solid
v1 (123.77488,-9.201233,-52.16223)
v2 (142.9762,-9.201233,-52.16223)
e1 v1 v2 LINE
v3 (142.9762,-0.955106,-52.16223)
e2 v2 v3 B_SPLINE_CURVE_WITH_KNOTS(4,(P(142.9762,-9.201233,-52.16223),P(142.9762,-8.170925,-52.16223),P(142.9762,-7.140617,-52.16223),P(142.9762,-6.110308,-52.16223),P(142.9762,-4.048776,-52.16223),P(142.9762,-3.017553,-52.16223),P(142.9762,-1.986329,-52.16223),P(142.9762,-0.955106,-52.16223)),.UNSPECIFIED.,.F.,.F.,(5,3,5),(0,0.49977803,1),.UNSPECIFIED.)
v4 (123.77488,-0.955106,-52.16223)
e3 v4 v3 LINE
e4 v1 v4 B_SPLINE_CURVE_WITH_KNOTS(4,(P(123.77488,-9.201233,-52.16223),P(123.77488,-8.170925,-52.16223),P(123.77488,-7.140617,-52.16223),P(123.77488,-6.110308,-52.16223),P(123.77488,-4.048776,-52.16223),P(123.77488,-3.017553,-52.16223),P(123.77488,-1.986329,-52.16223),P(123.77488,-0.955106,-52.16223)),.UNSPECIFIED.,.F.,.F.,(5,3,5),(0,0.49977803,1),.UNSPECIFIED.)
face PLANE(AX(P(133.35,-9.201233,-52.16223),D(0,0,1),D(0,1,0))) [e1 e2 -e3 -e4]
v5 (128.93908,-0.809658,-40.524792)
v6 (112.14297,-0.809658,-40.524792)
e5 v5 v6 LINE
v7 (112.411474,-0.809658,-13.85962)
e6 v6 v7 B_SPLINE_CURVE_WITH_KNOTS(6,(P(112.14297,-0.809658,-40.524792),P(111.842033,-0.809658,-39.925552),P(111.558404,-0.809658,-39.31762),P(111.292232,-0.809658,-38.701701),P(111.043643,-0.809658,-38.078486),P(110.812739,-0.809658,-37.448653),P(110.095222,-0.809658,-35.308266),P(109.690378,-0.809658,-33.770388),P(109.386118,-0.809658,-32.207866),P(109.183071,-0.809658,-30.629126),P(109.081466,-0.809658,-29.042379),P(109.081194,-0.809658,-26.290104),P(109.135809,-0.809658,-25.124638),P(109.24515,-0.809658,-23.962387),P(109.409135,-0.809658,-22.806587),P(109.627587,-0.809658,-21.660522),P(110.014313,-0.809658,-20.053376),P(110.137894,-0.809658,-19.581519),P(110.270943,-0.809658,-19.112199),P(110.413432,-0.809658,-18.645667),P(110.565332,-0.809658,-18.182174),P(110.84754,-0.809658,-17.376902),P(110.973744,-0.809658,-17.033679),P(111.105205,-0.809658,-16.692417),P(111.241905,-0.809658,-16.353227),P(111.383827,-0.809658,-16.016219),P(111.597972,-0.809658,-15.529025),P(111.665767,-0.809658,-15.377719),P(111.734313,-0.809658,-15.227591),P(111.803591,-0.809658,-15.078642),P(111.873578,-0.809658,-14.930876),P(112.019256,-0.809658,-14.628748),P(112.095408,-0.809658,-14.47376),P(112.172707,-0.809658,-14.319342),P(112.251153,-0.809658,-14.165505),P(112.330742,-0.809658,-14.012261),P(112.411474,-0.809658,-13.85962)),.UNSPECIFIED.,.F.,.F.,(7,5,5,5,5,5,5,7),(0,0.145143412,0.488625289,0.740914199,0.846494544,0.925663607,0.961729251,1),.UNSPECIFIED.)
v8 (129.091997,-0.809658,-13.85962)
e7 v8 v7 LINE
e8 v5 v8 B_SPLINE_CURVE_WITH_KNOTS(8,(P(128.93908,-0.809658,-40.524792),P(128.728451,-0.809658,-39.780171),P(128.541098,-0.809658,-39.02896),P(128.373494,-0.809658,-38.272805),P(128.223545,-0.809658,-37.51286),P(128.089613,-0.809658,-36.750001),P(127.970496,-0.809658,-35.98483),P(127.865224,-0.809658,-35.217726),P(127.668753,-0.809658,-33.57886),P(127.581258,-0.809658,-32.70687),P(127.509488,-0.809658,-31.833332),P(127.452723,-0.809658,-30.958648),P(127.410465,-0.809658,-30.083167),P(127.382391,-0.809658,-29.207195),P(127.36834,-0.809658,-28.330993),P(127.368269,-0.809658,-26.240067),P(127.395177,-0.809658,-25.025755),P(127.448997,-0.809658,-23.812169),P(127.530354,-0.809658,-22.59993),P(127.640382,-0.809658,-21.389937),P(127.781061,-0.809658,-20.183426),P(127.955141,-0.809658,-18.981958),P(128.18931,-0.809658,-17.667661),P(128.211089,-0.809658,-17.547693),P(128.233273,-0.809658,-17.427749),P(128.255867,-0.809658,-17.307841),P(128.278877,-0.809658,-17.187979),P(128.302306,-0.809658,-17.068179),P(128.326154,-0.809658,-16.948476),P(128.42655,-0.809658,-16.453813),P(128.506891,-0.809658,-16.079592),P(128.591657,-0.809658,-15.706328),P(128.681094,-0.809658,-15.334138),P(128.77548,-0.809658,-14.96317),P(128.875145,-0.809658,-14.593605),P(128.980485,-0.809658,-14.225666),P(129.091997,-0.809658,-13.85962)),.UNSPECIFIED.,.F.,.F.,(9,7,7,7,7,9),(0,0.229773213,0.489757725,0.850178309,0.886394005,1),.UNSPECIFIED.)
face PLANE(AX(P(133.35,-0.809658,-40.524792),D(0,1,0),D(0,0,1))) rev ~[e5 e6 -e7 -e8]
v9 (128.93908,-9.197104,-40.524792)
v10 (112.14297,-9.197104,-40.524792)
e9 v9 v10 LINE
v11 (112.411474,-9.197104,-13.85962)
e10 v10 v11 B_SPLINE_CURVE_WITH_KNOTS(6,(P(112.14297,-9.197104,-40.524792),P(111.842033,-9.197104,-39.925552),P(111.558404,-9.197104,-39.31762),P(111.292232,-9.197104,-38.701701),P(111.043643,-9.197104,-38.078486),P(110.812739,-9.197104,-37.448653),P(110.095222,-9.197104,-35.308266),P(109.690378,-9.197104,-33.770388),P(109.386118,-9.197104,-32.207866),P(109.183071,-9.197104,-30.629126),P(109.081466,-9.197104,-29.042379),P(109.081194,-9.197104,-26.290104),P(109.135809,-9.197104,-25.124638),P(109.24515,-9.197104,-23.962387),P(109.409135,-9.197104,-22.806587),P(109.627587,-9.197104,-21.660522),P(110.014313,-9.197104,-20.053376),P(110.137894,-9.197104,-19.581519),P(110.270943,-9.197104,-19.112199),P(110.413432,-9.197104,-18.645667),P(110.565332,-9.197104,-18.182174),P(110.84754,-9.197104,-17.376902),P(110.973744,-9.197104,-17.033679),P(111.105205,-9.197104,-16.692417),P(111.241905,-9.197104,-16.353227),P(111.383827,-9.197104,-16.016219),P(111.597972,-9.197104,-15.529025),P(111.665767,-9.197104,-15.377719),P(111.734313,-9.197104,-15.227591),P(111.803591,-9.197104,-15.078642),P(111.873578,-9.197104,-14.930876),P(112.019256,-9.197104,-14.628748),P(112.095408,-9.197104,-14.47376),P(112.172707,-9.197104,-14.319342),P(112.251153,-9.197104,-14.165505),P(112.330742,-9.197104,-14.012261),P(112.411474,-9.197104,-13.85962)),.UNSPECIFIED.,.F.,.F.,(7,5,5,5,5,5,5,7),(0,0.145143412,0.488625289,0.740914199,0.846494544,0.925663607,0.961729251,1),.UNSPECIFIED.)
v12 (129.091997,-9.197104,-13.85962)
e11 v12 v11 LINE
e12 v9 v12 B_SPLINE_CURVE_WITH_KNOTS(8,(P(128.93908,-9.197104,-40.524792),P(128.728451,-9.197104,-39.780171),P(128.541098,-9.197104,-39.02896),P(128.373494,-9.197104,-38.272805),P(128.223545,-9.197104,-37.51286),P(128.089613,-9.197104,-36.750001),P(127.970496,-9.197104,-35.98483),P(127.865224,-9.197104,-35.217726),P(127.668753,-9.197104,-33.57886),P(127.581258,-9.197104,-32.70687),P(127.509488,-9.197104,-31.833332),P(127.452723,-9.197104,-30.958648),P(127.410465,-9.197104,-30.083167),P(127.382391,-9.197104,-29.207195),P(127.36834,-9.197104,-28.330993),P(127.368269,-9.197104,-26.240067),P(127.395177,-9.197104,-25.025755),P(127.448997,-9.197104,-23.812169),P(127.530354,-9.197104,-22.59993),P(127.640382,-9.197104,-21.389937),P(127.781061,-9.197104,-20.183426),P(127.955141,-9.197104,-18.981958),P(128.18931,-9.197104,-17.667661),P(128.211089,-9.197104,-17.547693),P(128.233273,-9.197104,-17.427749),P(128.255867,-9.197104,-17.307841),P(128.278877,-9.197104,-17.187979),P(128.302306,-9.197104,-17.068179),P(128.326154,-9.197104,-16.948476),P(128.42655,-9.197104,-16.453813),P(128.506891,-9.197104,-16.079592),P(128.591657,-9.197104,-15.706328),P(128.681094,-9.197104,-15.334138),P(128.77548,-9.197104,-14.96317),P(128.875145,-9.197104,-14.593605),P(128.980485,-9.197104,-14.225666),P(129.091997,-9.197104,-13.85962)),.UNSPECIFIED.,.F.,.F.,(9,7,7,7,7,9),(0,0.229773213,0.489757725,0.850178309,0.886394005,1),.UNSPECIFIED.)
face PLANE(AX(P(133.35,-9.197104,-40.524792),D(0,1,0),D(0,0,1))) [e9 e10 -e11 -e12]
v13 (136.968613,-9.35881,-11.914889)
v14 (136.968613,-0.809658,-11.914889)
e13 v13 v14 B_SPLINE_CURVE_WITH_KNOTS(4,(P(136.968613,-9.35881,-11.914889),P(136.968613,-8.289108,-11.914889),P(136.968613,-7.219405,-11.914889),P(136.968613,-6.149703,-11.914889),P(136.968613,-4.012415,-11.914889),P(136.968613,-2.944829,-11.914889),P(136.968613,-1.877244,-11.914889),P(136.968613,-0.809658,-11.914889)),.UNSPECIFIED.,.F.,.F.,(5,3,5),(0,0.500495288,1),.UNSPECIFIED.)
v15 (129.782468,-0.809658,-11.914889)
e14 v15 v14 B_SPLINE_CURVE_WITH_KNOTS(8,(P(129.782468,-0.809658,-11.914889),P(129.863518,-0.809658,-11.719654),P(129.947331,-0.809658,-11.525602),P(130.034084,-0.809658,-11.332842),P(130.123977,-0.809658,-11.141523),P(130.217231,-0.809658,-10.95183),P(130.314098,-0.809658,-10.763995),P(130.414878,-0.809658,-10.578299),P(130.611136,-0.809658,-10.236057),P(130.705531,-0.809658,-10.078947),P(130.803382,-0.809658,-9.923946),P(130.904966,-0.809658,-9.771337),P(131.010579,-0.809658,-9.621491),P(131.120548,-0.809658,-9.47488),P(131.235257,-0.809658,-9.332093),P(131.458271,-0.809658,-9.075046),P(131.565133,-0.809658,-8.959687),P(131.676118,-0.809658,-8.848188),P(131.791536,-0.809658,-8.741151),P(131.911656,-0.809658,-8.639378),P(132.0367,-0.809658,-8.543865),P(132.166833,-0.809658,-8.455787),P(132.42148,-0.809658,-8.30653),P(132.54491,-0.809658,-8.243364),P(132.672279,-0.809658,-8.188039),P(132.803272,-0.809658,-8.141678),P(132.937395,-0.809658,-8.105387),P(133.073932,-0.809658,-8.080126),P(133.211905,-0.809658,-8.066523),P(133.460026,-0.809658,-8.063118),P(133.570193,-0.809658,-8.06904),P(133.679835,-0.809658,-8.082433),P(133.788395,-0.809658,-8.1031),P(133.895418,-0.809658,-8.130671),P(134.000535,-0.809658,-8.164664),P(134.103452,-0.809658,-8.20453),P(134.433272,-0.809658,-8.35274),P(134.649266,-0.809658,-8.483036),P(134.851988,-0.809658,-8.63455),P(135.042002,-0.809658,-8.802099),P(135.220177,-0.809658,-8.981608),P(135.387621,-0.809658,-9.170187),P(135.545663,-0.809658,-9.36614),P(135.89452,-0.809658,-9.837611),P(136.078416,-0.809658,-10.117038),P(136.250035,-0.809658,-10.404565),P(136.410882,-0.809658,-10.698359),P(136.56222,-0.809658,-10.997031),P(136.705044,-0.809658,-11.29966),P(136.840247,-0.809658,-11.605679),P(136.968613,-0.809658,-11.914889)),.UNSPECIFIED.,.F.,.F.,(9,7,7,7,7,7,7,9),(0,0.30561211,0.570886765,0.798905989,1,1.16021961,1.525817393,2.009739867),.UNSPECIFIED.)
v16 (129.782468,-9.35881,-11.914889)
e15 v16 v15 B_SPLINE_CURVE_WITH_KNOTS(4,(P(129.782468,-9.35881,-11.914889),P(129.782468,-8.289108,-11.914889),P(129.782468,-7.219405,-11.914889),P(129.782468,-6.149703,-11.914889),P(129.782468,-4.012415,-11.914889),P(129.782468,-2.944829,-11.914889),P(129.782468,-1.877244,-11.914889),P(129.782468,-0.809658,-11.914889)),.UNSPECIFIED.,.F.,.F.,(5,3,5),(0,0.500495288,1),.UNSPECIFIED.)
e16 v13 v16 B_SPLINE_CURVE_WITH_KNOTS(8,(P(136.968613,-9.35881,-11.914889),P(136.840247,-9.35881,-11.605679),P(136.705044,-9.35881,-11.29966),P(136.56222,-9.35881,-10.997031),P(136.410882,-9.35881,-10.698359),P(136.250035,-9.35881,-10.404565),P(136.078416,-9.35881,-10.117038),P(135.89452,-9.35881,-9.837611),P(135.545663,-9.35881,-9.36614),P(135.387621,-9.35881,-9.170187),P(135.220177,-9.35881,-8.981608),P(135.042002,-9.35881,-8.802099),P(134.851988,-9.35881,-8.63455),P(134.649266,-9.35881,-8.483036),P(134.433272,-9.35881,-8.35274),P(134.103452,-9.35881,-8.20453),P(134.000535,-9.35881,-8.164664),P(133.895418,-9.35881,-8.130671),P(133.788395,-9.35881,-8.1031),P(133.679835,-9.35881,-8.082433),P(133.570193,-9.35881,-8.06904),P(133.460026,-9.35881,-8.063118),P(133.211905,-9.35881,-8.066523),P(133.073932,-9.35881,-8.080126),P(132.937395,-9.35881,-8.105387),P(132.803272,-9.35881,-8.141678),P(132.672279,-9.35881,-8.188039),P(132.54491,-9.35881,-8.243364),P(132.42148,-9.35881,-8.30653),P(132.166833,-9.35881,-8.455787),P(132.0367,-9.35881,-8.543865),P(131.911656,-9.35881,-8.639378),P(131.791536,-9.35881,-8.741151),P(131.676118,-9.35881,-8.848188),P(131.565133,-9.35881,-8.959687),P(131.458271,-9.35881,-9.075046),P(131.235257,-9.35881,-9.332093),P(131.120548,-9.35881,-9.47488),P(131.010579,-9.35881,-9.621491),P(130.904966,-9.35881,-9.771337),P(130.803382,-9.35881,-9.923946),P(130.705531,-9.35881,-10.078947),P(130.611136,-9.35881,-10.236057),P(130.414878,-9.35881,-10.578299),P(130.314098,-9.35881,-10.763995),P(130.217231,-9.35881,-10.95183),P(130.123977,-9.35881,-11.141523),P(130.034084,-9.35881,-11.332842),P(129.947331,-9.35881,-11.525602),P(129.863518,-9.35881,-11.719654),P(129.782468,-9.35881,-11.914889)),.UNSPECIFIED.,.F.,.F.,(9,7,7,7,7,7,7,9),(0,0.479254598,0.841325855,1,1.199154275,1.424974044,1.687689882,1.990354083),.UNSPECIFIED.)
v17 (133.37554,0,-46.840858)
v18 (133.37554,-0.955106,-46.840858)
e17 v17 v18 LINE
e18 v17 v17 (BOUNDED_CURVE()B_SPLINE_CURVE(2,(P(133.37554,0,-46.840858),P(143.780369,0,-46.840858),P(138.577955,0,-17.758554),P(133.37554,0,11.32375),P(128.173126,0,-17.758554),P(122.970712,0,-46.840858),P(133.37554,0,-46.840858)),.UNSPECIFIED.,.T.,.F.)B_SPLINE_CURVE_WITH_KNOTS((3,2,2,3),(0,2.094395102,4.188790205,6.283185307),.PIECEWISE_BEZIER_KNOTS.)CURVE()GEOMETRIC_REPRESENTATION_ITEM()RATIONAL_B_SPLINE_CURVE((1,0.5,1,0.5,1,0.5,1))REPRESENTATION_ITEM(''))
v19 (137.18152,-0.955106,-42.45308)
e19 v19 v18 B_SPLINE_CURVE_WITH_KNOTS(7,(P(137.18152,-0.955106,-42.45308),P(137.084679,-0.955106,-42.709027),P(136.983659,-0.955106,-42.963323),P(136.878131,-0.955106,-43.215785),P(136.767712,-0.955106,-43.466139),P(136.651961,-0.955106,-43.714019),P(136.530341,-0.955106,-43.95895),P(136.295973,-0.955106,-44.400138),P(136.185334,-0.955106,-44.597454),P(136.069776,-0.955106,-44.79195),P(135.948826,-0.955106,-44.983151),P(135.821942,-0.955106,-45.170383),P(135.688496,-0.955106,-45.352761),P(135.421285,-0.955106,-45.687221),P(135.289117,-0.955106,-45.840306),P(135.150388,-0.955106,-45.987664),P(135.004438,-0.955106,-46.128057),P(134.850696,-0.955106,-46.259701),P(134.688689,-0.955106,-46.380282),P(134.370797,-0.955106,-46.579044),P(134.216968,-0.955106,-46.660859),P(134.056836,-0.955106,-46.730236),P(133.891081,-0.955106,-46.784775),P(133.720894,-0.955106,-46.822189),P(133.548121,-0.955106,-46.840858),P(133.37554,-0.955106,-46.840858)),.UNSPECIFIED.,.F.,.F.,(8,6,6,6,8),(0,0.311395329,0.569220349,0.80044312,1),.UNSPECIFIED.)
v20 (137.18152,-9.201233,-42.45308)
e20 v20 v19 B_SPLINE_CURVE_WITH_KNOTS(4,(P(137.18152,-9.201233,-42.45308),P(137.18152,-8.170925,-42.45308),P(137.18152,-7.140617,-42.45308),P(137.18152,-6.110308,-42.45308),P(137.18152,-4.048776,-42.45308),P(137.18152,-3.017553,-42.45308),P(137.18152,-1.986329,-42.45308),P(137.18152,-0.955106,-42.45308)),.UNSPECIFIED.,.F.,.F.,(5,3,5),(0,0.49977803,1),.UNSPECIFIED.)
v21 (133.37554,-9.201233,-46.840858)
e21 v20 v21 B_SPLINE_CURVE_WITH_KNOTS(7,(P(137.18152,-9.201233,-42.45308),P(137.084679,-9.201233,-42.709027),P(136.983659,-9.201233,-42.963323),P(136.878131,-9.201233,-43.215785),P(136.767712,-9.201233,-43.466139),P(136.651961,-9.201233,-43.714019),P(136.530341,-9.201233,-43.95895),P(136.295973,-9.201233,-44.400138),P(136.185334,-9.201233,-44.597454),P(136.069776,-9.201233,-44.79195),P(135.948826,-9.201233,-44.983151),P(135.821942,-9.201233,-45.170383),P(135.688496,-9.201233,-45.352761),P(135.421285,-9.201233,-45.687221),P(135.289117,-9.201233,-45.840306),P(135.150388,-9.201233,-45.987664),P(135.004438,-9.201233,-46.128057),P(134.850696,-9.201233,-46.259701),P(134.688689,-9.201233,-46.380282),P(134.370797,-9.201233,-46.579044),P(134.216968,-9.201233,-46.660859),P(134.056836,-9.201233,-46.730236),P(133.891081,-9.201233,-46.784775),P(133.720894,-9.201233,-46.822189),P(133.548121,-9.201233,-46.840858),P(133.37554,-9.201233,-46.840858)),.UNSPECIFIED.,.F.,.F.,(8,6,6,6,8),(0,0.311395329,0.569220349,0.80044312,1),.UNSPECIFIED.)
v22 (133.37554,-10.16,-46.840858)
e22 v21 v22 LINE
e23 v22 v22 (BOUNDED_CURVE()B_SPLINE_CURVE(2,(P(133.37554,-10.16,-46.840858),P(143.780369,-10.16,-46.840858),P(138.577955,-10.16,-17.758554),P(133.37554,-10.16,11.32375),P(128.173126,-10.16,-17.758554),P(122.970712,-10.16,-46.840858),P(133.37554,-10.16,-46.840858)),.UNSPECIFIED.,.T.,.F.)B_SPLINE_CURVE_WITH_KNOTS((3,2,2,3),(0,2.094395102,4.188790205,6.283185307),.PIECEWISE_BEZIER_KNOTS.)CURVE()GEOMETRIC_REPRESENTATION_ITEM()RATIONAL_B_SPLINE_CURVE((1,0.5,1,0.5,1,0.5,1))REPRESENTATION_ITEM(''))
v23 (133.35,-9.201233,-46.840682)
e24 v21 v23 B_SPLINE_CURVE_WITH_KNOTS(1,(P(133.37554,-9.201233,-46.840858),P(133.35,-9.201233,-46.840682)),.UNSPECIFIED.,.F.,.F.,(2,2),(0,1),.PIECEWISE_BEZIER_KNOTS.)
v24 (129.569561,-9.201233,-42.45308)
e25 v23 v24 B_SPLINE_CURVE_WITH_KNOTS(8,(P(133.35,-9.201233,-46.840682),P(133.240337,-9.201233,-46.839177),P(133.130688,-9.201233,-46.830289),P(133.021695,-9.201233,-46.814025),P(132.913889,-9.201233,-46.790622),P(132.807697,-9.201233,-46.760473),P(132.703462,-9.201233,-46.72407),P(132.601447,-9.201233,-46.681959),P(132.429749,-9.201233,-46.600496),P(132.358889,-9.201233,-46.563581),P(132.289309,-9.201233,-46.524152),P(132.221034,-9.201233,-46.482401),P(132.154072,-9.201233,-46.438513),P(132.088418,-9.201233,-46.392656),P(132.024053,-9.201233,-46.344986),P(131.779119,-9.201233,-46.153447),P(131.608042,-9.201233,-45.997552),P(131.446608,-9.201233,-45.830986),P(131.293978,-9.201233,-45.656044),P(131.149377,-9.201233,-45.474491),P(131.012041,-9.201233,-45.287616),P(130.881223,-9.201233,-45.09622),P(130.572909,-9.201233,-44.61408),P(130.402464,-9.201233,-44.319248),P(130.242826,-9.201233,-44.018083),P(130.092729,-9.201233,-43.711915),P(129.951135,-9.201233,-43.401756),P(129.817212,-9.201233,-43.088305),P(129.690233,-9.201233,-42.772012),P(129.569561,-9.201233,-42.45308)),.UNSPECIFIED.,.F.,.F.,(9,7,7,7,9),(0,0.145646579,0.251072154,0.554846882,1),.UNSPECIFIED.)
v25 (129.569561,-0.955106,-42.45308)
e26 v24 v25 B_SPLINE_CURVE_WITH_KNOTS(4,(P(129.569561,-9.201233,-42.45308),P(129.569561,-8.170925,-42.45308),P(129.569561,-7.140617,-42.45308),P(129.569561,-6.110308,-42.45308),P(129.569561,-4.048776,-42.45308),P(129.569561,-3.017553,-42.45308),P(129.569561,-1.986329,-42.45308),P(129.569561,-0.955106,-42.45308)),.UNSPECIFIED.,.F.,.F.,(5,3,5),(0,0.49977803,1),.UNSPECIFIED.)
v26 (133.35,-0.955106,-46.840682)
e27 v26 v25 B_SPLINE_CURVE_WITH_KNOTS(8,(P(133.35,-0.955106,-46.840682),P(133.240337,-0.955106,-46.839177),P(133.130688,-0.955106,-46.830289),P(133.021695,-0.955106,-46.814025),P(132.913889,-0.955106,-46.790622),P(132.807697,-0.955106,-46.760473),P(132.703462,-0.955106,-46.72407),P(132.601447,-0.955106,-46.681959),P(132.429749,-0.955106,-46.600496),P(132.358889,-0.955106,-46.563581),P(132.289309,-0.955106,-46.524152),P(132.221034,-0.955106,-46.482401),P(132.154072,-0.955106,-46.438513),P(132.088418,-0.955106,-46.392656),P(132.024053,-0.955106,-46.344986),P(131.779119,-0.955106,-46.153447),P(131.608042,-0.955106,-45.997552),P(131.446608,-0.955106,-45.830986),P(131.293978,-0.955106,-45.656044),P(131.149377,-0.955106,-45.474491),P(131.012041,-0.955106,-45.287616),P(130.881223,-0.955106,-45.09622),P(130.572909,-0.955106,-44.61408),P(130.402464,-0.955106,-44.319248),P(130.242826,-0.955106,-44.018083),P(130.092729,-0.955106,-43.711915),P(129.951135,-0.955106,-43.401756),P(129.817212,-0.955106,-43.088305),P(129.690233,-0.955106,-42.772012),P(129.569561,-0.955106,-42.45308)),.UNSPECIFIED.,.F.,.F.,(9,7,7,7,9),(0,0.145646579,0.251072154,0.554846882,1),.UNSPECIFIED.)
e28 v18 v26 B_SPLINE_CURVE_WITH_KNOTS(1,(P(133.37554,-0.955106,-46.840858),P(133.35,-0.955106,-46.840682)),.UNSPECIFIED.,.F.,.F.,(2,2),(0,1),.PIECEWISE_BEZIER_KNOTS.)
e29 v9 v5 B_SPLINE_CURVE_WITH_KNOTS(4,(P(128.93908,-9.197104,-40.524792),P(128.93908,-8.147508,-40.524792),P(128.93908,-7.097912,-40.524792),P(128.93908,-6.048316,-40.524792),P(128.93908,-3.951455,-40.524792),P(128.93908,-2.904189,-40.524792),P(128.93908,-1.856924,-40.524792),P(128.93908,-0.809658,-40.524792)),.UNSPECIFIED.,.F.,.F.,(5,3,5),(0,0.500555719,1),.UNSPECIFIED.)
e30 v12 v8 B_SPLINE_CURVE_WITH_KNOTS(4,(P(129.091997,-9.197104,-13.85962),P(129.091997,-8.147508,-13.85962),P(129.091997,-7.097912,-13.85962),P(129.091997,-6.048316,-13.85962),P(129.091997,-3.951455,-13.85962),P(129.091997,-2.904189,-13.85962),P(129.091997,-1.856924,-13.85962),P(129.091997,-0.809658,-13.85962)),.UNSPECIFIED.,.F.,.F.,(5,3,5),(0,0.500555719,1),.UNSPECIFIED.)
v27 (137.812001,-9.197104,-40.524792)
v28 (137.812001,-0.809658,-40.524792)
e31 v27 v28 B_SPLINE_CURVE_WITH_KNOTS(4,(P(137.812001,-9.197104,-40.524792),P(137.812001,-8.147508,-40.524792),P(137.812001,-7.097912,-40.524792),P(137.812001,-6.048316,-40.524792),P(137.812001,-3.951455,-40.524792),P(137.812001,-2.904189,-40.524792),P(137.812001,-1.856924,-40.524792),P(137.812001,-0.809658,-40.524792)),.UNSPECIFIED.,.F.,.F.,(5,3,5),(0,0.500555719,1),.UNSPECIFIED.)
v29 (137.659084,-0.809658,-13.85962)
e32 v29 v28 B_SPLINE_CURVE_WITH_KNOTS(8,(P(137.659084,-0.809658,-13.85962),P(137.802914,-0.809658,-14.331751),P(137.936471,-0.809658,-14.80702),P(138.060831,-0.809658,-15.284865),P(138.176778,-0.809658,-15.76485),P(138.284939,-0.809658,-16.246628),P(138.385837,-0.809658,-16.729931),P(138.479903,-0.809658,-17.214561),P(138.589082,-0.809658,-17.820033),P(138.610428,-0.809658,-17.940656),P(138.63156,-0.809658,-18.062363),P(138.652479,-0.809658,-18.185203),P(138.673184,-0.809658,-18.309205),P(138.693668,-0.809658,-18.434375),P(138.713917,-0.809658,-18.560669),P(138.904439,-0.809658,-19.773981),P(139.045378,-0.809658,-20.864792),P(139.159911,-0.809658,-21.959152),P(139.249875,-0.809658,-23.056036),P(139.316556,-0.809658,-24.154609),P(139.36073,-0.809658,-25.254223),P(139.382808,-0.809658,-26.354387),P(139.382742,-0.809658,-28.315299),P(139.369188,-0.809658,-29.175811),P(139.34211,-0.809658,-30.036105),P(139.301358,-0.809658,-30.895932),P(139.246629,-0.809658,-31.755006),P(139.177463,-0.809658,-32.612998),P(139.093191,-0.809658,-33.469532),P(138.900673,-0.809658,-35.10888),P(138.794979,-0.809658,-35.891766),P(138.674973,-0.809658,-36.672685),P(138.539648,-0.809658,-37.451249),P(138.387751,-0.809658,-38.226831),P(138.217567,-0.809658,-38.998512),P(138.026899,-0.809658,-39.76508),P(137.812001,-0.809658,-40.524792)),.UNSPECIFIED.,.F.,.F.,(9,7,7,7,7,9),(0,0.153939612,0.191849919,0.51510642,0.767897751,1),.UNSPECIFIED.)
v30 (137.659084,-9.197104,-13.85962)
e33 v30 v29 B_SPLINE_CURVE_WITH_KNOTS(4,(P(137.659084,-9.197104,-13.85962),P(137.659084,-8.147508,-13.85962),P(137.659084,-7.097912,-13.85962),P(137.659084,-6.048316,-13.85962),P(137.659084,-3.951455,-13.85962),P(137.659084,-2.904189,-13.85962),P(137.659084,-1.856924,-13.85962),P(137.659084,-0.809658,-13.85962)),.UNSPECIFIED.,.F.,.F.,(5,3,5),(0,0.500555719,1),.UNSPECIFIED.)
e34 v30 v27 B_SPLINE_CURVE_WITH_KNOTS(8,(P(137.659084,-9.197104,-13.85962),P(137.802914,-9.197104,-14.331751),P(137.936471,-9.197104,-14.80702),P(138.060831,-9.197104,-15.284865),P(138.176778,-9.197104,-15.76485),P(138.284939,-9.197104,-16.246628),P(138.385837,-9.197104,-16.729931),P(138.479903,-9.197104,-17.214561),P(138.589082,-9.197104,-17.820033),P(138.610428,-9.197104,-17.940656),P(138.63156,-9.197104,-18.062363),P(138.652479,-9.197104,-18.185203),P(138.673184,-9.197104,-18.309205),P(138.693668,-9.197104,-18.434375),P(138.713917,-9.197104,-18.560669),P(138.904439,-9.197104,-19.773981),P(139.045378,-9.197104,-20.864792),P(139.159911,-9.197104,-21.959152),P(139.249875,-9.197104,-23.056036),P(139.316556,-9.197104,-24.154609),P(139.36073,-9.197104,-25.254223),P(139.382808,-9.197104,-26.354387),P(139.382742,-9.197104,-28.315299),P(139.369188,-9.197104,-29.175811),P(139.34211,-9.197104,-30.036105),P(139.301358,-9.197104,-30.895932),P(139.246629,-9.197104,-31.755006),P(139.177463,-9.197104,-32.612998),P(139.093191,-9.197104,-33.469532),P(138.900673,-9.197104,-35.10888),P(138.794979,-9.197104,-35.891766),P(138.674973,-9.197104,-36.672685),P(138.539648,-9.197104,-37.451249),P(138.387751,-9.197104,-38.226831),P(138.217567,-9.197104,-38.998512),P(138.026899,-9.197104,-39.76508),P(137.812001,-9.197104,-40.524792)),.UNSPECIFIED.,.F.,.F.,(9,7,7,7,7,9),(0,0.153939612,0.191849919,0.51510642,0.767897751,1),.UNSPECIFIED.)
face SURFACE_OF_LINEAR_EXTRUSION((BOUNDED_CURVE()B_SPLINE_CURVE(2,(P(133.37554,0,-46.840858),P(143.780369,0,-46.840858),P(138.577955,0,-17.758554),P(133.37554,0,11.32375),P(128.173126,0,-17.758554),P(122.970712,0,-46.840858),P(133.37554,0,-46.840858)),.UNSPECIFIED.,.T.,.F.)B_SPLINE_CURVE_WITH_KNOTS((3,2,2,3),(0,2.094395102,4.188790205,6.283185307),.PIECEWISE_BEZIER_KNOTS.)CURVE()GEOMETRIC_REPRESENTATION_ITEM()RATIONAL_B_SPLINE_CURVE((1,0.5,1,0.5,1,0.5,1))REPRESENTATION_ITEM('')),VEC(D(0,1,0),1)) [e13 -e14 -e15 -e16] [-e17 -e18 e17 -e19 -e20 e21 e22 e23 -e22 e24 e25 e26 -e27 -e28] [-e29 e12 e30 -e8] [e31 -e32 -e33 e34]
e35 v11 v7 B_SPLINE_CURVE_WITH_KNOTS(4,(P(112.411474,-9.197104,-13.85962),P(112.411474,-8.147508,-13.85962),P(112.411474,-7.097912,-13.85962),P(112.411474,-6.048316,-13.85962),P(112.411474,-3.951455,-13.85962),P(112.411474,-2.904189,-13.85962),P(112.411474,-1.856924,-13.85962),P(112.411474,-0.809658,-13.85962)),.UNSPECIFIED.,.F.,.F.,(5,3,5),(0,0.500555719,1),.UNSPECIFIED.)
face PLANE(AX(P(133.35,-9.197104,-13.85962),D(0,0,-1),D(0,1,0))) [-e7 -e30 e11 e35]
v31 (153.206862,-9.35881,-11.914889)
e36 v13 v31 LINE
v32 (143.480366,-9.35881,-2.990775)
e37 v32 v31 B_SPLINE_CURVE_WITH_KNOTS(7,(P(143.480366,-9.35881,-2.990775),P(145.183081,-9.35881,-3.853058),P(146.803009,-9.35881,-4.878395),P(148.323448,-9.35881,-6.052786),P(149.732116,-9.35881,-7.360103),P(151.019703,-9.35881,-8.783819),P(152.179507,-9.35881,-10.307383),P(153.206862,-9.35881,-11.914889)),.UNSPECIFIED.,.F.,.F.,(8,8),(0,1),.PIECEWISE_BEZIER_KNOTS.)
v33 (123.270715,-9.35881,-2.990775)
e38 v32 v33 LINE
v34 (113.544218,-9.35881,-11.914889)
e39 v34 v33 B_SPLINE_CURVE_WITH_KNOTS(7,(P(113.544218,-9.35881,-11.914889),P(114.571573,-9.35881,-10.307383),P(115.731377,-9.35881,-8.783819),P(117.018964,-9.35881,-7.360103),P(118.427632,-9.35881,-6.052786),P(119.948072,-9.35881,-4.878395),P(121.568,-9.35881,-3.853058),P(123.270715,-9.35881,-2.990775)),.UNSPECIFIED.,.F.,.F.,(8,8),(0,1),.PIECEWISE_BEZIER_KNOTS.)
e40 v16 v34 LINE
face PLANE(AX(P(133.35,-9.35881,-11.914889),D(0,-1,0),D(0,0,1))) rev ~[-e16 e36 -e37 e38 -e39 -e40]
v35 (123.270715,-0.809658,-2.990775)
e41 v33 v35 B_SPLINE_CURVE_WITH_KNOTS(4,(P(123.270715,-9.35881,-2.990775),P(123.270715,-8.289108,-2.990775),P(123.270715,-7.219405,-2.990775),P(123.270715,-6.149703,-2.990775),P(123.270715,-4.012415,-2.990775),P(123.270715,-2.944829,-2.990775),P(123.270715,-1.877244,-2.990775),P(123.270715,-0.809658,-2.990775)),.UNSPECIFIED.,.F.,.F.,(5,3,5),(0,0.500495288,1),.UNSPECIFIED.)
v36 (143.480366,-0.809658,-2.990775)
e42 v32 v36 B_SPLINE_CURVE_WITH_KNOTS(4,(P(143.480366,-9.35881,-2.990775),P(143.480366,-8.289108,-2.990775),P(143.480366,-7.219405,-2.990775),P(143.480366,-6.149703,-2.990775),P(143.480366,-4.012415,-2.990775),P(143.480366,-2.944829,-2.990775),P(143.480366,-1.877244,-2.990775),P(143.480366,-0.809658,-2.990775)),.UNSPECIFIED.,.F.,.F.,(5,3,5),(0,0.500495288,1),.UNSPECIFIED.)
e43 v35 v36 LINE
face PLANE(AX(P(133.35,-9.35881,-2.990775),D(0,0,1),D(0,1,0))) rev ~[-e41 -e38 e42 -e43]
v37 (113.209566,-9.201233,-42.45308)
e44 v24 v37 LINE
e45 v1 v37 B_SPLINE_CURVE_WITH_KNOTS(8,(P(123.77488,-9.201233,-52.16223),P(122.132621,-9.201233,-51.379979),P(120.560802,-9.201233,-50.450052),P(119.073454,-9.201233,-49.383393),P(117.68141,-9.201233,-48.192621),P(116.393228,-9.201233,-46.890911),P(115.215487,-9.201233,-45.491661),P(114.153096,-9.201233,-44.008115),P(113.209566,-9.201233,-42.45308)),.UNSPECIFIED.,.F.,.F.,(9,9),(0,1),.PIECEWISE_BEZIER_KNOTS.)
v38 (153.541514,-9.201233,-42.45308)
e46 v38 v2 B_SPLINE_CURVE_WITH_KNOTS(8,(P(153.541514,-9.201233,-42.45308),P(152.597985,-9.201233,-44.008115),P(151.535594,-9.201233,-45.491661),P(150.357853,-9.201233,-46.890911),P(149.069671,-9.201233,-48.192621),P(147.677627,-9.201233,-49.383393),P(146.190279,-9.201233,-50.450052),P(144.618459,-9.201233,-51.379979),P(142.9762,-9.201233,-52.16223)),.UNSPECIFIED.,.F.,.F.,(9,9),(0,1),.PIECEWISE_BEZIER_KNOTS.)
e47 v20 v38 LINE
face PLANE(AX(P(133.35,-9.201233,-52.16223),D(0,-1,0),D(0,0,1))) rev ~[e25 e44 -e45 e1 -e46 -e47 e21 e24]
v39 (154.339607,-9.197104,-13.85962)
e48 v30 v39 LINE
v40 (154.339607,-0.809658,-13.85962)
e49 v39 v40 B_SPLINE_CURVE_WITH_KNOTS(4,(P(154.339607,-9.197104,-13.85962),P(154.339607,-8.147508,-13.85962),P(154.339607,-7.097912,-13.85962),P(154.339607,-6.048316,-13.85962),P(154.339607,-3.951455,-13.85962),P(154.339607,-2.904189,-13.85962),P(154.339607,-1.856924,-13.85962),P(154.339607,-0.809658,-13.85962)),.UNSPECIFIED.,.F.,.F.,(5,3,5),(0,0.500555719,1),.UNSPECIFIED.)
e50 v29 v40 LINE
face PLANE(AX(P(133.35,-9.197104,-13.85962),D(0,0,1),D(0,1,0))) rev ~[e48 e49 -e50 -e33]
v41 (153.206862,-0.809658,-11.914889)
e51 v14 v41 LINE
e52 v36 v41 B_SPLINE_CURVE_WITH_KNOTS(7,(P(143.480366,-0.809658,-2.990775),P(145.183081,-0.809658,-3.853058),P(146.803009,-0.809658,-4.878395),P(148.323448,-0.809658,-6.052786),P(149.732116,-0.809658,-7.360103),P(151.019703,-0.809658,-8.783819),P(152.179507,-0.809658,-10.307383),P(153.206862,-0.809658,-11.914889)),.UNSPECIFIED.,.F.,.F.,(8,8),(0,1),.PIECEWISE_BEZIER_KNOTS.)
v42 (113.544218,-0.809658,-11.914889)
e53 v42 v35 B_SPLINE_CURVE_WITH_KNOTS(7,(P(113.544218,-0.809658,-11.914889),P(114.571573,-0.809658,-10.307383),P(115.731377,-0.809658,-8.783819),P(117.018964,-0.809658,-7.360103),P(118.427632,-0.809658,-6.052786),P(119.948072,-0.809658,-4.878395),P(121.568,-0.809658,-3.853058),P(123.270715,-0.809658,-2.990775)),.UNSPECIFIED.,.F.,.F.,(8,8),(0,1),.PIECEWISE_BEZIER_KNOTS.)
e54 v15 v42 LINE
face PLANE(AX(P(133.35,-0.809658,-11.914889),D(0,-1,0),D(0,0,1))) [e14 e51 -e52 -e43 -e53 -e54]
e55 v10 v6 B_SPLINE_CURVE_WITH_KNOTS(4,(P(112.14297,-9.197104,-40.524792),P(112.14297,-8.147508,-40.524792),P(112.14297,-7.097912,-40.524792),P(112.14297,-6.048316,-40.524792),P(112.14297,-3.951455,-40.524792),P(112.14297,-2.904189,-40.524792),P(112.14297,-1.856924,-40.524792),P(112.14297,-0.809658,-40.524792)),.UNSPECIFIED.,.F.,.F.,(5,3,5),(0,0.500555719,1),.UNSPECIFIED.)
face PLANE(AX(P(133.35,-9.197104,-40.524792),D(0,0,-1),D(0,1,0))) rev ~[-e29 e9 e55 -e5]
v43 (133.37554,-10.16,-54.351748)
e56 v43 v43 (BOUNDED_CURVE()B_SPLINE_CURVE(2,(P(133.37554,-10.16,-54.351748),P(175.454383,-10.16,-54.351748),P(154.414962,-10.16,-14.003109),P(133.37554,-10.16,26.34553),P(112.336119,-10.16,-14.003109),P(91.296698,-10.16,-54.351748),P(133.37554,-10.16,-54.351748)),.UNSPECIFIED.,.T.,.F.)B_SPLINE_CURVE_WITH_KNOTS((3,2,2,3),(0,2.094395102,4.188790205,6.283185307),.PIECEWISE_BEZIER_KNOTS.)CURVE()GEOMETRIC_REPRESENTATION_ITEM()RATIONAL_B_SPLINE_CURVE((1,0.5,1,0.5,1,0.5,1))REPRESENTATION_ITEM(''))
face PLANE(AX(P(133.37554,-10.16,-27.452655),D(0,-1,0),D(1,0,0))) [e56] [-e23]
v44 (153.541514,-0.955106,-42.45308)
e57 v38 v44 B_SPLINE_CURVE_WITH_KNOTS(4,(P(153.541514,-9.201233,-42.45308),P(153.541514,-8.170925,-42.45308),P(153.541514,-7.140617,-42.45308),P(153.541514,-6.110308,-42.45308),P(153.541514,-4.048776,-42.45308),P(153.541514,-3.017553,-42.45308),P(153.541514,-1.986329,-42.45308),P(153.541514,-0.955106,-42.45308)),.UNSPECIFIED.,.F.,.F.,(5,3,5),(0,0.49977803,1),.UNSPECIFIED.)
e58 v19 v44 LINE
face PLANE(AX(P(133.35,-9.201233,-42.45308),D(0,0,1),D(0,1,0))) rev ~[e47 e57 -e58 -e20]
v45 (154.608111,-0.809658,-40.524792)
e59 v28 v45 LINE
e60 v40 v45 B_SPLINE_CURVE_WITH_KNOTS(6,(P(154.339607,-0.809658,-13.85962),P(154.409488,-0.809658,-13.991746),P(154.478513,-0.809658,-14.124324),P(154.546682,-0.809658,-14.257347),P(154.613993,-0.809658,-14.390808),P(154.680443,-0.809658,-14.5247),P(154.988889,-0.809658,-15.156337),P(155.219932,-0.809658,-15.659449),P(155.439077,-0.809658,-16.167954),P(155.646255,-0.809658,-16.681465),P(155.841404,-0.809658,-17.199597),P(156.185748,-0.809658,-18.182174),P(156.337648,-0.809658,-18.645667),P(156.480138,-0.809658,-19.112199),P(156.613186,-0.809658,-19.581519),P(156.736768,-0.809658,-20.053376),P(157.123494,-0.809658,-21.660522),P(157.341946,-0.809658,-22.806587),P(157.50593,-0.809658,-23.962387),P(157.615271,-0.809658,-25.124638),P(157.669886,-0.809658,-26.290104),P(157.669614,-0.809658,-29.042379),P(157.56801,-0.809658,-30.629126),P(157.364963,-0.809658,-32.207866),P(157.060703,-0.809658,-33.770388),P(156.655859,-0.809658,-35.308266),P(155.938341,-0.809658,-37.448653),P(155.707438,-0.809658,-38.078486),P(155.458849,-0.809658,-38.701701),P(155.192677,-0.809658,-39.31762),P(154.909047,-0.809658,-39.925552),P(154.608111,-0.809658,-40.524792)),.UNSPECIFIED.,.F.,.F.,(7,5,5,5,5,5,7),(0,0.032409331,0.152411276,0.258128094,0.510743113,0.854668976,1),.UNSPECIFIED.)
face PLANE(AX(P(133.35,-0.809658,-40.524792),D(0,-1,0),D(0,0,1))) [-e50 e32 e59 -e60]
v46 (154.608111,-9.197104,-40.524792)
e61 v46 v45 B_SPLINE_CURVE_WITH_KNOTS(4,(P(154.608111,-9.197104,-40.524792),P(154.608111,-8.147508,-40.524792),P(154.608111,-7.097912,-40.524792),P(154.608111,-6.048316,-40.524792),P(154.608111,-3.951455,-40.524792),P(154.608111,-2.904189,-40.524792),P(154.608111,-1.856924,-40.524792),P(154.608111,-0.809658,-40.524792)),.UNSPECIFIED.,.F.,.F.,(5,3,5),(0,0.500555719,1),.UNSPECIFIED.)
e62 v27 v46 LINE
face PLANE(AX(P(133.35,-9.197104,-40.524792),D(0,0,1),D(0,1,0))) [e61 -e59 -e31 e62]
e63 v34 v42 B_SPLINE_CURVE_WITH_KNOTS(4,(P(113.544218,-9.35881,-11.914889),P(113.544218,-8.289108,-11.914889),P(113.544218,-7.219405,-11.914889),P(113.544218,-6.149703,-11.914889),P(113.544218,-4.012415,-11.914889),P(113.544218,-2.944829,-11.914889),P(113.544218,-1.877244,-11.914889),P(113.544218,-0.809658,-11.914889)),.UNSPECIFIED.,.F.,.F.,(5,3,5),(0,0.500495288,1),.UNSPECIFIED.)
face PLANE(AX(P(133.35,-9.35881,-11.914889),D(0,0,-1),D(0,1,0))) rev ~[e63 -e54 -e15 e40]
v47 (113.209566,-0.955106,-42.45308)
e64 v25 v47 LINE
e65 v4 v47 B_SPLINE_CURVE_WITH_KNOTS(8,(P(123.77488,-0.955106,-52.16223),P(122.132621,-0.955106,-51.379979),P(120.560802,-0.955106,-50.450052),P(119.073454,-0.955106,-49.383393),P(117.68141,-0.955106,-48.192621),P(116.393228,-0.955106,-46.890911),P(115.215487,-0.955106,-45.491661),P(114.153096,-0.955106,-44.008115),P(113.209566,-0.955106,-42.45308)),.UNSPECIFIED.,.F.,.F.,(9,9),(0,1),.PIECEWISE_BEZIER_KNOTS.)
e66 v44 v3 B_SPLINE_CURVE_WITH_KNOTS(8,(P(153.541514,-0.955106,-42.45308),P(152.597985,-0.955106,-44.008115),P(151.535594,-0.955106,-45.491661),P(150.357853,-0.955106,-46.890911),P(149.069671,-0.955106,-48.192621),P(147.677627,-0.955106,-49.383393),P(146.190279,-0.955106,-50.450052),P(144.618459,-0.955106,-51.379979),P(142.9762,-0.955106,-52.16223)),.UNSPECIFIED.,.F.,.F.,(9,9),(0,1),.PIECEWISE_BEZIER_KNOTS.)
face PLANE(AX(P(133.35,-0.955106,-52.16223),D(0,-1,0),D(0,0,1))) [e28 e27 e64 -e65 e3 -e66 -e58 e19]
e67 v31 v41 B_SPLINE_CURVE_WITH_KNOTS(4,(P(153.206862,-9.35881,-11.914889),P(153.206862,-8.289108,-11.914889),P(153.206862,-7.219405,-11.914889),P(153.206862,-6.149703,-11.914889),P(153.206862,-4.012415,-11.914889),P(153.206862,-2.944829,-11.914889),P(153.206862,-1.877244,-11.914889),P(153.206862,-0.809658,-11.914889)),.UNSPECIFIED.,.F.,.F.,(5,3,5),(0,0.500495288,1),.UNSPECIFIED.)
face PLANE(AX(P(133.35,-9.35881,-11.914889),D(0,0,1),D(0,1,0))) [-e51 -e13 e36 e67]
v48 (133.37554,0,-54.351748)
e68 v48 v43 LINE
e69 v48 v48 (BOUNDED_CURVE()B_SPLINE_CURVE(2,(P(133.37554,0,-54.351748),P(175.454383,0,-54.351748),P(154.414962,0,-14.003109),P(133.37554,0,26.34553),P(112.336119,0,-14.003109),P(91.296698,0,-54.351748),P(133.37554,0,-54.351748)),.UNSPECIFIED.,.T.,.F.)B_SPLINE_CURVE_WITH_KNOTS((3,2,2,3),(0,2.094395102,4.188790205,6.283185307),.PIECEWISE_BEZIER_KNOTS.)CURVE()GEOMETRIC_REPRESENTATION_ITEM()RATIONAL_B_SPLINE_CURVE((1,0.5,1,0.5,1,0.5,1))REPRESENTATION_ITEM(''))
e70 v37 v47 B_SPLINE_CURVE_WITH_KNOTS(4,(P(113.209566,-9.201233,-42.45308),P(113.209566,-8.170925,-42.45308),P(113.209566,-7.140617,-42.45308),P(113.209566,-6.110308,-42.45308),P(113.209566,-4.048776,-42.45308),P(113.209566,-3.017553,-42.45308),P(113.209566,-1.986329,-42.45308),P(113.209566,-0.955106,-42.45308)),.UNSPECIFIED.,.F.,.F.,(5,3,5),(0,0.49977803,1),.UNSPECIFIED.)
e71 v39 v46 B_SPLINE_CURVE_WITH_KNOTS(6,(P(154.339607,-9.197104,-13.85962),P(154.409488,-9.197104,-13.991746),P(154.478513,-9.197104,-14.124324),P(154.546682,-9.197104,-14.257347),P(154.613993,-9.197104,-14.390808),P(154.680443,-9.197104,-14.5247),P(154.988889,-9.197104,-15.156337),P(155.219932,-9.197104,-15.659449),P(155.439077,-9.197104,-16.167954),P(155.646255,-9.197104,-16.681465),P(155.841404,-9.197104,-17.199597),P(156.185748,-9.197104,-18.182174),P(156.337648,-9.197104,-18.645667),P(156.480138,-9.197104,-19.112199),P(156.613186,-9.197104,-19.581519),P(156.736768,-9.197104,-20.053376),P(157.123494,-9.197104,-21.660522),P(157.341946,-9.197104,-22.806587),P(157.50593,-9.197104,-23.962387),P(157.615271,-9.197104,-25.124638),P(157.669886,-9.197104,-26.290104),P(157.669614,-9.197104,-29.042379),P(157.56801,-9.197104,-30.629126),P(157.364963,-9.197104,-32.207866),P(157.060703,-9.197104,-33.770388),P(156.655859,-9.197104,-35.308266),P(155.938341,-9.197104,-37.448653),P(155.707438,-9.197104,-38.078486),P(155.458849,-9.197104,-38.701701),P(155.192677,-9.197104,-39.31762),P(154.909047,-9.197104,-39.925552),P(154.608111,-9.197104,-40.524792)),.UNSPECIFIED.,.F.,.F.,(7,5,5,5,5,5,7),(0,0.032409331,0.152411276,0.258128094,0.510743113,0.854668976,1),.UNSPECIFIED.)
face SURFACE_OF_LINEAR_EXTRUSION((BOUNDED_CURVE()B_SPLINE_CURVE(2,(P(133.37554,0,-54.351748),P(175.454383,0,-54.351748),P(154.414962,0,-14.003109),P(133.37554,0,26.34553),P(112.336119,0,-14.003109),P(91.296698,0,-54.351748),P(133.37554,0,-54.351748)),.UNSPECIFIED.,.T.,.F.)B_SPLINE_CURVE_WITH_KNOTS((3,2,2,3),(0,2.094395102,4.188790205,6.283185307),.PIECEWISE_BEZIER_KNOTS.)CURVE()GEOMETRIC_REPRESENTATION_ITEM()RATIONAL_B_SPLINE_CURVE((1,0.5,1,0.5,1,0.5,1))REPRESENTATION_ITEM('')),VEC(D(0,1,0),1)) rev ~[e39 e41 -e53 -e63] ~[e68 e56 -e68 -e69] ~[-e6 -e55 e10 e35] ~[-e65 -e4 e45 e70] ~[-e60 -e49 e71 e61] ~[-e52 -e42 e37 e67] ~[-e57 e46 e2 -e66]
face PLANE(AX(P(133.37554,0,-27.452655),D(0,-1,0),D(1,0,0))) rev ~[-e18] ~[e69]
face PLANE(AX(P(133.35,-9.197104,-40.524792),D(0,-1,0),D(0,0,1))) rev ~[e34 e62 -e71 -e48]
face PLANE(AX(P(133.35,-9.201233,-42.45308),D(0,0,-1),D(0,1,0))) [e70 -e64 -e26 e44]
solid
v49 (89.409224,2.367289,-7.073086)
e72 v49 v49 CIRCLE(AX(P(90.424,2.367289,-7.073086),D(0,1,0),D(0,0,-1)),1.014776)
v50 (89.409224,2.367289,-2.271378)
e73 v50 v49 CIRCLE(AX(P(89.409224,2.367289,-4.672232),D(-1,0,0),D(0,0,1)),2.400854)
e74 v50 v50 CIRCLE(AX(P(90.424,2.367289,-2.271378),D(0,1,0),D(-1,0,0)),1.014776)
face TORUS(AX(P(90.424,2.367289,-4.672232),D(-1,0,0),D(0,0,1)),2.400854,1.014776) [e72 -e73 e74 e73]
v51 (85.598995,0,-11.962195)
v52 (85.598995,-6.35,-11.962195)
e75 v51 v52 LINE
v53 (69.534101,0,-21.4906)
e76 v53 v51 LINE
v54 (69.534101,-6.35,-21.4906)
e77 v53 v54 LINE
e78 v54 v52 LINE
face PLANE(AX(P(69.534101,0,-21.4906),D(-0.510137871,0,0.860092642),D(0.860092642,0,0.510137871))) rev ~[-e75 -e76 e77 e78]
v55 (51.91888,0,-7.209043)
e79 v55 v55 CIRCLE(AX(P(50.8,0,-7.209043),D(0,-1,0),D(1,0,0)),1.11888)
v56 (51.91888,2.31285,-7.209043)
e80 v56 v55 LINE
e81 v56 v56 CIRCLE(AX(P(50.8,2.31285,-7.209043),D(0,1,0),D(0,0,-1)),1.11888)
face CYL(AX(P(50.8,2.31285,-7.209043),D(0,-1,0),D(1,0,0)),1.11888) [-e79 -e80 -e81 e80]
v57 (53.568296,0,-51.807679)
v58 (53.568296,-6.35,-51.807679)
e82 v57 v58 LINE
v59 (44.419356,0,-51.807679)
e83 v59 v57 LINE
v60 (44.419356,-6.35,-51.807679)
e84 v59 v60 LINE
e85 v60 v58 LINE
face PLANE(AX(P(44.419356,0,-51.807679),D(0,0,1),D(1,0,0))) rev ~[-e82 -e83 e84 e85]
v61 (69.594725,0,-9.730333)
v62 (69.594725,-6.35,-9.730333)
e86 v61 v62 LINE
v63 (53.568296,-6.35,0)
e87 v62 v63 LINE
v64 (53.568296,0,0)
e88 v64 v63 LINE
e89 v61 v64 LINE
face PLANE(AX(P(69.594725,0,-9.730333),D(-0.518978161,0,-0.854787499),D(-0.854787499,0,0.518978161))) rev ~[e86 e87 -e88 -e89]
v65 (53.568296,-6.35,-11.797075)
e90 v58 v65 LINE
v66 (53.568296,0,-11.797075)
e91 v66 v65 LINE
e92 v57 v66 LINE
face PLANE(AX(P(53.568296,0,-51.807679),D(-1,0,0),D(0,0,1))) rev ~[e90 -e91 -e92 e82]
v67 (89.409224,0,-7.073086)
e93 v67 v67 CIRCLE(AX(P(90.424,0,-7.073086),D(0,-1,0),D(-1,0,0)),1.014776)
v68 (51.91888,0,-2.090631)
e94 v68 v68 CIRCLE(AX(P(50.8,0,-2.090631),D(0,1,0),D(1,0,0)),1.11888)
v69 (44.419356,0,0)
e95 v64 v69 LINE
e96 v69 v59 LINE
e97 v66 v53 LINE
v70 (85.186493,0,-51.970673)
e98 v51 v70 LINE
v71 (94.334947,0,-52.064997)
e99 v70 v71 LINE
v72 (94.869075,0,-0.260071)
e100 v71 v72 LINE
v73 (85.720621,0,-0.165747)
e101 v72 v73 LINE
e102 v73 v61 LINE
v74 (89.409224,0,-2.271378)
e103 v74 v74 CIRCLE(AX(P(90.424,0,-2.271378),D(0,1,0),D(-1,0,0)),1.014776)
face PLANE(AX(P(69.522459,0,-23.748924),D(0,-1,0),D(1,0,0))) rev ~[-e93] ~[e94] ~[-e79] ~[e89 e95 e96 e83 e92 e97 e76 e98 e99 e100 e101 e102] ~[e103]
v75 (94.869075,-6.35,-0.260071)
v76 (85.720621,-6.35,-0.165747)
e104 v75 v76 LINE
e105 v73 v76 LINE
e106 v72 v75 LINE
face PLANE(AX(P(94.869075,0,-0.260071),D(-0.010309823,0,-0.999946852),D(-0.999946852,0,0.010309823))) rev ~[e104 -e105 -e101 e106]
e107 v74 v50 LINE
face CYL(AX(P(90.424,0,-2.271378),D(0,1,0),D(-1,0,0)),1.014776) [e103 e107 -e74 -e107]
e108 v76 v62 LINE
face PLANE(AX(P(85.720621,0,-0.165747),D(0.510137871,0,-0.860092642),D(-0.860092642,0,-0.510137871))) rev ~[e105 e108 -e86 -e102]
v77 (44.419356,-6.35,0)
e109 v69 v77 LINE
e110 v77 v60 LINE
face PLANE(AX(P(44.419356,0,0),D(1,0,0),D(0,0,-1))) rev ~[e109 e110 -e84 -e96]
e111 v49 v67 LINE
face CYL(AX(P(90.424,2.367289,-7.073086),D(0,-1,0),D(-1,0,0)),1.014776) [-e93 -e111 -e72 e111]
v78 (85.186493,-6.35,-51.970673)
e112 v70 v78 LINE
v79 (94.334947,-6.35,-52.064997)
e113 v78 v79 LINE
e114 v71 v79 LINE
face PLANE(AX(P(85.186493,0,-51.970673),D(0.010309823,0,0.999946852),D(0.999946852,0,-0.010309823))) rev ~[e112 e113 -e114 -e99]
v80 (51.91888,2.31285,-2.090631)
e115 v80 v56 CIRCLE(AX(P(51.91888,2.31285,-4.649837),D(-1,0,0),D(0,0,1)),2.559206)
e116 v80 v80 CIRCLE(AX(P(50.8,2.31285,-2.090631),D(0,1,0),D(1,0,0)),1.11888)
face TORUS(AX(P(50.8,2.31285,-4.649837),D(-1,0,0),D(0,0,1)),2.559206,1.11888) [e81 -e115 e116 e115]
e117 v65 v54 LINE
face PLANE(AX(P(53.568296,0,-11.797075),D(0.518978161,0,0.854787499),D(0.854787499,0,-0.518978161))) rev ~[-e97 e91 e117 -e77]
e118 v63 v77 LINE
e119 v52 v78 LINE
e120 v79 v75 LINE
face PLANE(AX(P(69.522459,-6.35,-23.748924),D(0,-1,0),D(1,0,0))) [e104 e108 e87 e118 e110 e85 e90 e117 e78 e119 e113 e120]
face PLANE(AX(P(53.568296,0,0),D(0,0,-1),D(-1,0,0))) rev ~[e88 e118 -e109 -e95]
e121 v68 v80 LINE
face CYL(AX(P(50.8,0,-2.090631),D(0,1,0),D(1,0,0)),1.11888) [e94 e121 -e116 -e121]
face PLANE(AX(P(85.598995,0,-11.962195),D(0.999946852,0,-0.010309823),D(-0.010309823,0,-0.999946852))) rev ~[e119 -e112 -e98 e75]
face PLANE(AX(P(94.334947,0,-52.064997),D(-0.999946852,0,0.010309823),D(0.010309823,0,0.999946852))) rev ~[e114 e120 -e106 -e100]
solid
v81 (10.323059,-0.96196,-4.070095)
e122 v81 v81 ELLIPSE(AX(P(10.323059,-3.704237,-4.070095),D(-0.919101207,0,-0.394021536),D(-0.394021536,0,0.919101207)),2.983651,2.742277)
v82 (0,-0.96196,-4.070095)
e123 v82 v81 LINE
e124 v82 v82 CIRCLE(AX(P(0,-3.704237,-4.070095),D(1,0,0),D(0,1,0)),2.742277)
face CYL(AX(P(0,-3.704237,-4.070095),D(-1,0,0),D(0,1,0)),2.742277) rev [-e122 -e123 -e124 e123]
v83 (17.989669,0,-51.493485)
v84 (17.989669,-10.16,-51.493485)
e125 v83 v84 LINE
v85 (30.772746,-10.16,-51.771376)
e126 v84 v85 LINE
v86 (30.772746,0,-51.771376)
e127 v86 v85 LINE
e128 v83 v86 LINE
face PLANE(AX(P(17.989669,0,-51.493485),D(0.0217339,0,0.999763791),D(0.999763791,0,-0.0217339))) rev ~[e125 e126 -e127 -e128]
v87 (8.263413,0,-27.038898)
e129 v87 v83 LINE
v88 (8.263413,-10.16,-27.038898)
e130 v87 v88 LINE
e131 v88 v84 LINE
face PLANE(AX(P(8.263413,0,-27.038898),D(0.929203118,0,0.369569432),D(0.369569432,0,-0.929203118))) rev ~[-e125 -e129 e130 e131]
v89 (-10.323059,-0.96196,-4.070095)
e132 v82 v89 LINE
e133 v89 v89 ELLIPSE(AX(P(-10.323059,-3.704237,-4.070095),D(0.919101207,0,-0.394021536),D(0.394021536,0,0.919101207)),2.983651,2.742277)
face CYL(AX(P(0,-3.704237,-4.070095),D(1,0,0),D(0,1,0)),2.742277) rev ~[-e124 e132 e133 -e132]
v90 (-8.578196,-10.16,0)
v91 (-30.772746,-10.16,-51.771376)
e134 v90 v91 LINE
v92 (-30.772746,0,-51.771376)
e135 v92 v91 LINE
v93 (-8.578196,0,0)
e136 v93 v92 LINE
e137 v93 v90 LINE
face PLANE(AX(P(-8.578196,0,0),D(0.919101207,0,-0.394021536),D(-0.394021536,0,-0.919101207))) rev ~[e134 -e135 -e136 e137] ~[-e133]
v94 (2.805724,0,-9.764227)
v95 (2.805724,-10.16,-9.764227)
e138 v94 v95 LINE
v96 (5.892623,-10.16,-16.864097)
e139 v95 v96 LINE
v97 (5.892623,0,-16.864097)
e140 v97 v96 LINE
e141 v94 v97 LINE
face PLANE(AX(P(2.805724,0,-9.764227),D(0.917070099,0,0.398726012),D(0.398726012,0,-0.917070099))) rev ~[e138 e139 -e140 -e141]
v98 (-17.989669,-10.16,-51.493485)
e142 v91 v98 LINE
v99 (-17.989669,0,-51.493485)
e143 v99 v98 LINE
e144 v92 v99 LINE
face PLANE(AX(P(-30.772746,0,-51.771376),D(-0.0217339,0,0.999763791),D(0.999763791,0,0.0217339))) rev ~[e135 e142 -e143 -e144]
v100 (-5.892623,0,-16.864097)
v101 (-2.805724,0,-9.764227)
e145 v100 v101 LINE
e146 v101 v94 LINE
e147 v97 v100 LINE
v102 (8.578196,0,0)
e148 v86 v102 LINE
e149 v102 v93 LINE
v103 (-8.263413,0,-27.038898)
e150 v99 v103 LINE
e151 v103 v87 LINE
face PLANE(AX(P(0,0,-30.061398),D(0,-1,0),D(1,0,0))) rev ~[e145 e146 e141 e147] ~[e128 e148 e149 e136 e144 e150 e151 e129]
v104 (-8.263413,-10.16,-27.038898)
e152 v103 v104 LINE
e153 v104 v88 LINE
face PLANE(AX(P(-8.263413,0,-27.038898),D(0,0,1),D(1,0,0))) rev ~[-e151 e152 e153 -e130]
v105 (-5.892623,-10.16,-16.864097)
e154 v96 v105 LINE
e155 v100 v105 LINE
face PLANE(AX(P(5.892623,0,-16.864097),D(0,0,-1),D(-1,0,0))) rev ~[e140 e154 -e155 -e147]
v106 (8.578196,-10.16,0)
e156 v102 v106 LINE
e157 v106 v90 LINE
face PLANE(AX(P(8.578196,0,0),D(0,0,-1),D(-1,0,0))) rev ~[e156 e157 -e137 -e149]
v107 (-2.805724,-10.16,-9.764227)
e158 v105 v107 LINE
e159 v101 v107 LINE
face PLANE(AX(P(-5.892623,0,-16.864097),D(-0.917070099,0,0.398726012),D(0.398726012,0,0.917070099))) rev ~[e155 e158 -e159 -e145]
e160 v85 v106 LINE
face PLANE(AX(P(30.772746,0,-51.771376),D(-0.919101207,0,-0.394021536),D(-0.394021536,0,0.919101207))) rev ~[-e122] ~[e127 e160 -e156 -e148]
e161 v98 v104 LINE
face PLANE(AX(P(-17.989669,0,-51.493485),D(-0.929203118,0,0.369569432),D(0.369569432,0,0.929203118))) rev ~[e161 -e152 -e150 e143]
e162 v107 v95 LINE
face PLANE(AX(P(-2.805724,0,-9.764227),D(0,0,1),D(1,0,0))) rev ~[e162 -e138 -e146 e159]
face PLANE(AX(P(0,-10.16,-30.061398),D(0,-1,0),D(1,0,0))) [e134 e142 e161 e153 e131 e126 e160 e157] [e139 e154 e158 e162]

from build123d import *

# Parameters (mm, degrees)
F1_DEPTH       = 10.16
F3_DEPTH       = 6.35
F7_R           = 1.0147763436
F11_R          = 1.1188796437
F14_DEPTH      = 10.16
F16_R          = 2.7422770781
F17_DEPTH      = 25.4
F17_DEPTH_BACK = 25.4
F18_W          = 8.5491519421
F18_H          = 8.9241147507
F18_W_2        = 8.3874454722
F18_H_2        = 26.6651716083
F18_W_3        = 8.2461273414
F18_H_3        = 9.7091495991
F19_DEPTH      = 25.4
F19_DEPTH_BACK = 25.4


with BuildPart() as f1:
    # F0 (on Front) → F1 (new body)
    with BuildSketch(Plane.XZ):
        Polygon((8.5781961679, 0), (-8.5781961679, 0), (-30.7727456093, -51.771376282), (-17.9896689951, -51.4934845269), (-8.263412863, -27.038898319), (8.263412863, -27.038898319), (17.9896689951, -51.4934845269), (30.7727456093, -51.771376282), align=None)
        Polygon((5.8926227503, -16.8640967458), (-5.8926227503, -16.8640967458), (-2.8057238087, -9.7642270848), (2.8057238087, -9.7642270848), align=None, mode=Mode.SUBTRACT)
    extrude(amount=F1_DEPTH)

    # F16 (on Right) → F17 (cut, two sides)
    with BuildSketch(Plane.YZ) as f17_sk:
        with Locations((-3.704237286, -4.0700952522)):
            Circle(F16_R)
    extrude(amount=-F17_DEPTH, mode=Mode.SUBTRACT)
    extrude(f17_sk.sketch, amount=F17_DEPTH_BACK, mode=Mode.SUBTRACT)


with BuildPart() as f3:
    # F2 (on Front) → F3 (new body)
    with BuildSketch(Plane.XZ):
        Polygon((44.4193556905, 0), (44.4193556905, -51.8076792359), (53.5682961345, -51.8076792359), (53.5682961345, -11.7970751484), (69.5341005921, -21.4905999601), (85.5989950273, -11.9621949497), (85.1864927927, -51.9706725682), (94.3349469921, -52.0649965222), (94.86907498, -0.2600707418), (85.7206207805, -0.1657467879), (69.5947253384, -9.7303326959), (53.5682961345, 0), align=None)
    extrude(amount=F3_DEPTH)

    # F8: sweep along a path in F6
    with BuildLine(Plane.YZ.offset(90.424)) as f8_path:
        Line((0, -2.2713777634), (2.3672888055, -2.2713777634))
        ThreePointArc((2.3672888055, -2.2713777634), (4.7681431261, -4.672232084), (2.3672888055, -7.0730864045))
        Line((2.3672888055, -7.0730864045), (0, -7.0730864045))
    # F7 (on face) → F8 (sweep)
    with BuildSketch(Plane(origin=(0, 0, 0), x_dir=(-1, 0, 0), z_dir=(0, 1, 0))):
        with Locations((-90.424, -2.2713777634)):
            Circle(F7_R)
    sweep(path=f8_path.line)

    # F12: sweep along a path in F10
    with BuildLine(Plane.YZ.offset(50.8)) as f12_path:
        Line((0, -2.0906312857), (2.3128504399, -2.0906312857))
        ThreePointArc((2.3128504399, -2.0906312857), (4.8720561899, -4.6498370357), (2.3128504399, -7.2090427857))
        Line((2.3128504399, -7.2090427857), (0, -7.2090427857))
    # F11 (on Front) → F12 (sweep)
    with BuildSketch(Plane.XZ):
        with Locations((50.8, -2.0906312857)):
            Circle(F11_R)
    sweep(path=f12_path.line)


with BuildPart() as f14:
    # F13 (on Front) → F14 (new body)
    with BuildSketch(Plane.XZ):
        with BuildLine():
            add(Edge.make_bspline(
                [(133.3755403757, -54.3517478871), (175.4543827327, -54.3517478871), (154.4149615542, -14.0031087613), (133.3755403757, 26.3455303645), (112.3361191972, -14.0031087613), (91.2966980187, -54.3517478871), (133.3755403757, -54.3517478871)],
                knots=[0, 0, 0, 2.0943951024, 2.0943951024, 4.1887902048, 4.1887902048, 6.2831853072, 6.2831853072, 6.2831853072], degree=2, weights=[1, 0.5, 1, 0.5, 1, 0.5, 1]))
        make_face()
        with BuildLine():
            add(Edge.make_bspline(
                [(133.3755403757, -46.8408575095), (143.780368723, -46.8408575095), (138.5779545494, -17.7585539501), (133.3755403757, 11.3237496093), (128.173126202, -17.7585539501), (122.9707120284, -46.8408575095), (133.3755403757, -46.8408575095)],
                knots=[0, 0, 0, 2.0943951024, 2.0943951024, 4.1887902048, 4.1887902048, 6.2831853072, 6.2831853072, 6.2831853072], degree=2, weights=[1, 0.5, 1, 0.5, 1, 0.5, 1]))
        make_face(mode=Mode.SUBTRACT)
    extrude(amount=F14_DEPTH)

    # F18 (on offset) → F19 (cut, two sides)
    with BuildSketch(Plane.YZ.offset(133.35)) as f19_sk:
        with Locations((-5.0842342898, -7.4528319528)):
            Rectangle(F18_W, F18_H)
        with Locations((-5.0033810548, -27.192206122)):
            Rectangle(F18_W_2, F18_H_2)
        with Locations((-5.0781696045, -47.3076552153)):
            Rectangle(F18_W_3, F18_H_3)
    extrude(amount=-F19_DEPTH, mode=Mode.SUBTRACT)
    extrude(f19_sk.sketch, amount=F19_DEPTH_BACK, mode=Mode.SUBTRACT)


solid = Compound([f1.part, f3.part, f14.part])
